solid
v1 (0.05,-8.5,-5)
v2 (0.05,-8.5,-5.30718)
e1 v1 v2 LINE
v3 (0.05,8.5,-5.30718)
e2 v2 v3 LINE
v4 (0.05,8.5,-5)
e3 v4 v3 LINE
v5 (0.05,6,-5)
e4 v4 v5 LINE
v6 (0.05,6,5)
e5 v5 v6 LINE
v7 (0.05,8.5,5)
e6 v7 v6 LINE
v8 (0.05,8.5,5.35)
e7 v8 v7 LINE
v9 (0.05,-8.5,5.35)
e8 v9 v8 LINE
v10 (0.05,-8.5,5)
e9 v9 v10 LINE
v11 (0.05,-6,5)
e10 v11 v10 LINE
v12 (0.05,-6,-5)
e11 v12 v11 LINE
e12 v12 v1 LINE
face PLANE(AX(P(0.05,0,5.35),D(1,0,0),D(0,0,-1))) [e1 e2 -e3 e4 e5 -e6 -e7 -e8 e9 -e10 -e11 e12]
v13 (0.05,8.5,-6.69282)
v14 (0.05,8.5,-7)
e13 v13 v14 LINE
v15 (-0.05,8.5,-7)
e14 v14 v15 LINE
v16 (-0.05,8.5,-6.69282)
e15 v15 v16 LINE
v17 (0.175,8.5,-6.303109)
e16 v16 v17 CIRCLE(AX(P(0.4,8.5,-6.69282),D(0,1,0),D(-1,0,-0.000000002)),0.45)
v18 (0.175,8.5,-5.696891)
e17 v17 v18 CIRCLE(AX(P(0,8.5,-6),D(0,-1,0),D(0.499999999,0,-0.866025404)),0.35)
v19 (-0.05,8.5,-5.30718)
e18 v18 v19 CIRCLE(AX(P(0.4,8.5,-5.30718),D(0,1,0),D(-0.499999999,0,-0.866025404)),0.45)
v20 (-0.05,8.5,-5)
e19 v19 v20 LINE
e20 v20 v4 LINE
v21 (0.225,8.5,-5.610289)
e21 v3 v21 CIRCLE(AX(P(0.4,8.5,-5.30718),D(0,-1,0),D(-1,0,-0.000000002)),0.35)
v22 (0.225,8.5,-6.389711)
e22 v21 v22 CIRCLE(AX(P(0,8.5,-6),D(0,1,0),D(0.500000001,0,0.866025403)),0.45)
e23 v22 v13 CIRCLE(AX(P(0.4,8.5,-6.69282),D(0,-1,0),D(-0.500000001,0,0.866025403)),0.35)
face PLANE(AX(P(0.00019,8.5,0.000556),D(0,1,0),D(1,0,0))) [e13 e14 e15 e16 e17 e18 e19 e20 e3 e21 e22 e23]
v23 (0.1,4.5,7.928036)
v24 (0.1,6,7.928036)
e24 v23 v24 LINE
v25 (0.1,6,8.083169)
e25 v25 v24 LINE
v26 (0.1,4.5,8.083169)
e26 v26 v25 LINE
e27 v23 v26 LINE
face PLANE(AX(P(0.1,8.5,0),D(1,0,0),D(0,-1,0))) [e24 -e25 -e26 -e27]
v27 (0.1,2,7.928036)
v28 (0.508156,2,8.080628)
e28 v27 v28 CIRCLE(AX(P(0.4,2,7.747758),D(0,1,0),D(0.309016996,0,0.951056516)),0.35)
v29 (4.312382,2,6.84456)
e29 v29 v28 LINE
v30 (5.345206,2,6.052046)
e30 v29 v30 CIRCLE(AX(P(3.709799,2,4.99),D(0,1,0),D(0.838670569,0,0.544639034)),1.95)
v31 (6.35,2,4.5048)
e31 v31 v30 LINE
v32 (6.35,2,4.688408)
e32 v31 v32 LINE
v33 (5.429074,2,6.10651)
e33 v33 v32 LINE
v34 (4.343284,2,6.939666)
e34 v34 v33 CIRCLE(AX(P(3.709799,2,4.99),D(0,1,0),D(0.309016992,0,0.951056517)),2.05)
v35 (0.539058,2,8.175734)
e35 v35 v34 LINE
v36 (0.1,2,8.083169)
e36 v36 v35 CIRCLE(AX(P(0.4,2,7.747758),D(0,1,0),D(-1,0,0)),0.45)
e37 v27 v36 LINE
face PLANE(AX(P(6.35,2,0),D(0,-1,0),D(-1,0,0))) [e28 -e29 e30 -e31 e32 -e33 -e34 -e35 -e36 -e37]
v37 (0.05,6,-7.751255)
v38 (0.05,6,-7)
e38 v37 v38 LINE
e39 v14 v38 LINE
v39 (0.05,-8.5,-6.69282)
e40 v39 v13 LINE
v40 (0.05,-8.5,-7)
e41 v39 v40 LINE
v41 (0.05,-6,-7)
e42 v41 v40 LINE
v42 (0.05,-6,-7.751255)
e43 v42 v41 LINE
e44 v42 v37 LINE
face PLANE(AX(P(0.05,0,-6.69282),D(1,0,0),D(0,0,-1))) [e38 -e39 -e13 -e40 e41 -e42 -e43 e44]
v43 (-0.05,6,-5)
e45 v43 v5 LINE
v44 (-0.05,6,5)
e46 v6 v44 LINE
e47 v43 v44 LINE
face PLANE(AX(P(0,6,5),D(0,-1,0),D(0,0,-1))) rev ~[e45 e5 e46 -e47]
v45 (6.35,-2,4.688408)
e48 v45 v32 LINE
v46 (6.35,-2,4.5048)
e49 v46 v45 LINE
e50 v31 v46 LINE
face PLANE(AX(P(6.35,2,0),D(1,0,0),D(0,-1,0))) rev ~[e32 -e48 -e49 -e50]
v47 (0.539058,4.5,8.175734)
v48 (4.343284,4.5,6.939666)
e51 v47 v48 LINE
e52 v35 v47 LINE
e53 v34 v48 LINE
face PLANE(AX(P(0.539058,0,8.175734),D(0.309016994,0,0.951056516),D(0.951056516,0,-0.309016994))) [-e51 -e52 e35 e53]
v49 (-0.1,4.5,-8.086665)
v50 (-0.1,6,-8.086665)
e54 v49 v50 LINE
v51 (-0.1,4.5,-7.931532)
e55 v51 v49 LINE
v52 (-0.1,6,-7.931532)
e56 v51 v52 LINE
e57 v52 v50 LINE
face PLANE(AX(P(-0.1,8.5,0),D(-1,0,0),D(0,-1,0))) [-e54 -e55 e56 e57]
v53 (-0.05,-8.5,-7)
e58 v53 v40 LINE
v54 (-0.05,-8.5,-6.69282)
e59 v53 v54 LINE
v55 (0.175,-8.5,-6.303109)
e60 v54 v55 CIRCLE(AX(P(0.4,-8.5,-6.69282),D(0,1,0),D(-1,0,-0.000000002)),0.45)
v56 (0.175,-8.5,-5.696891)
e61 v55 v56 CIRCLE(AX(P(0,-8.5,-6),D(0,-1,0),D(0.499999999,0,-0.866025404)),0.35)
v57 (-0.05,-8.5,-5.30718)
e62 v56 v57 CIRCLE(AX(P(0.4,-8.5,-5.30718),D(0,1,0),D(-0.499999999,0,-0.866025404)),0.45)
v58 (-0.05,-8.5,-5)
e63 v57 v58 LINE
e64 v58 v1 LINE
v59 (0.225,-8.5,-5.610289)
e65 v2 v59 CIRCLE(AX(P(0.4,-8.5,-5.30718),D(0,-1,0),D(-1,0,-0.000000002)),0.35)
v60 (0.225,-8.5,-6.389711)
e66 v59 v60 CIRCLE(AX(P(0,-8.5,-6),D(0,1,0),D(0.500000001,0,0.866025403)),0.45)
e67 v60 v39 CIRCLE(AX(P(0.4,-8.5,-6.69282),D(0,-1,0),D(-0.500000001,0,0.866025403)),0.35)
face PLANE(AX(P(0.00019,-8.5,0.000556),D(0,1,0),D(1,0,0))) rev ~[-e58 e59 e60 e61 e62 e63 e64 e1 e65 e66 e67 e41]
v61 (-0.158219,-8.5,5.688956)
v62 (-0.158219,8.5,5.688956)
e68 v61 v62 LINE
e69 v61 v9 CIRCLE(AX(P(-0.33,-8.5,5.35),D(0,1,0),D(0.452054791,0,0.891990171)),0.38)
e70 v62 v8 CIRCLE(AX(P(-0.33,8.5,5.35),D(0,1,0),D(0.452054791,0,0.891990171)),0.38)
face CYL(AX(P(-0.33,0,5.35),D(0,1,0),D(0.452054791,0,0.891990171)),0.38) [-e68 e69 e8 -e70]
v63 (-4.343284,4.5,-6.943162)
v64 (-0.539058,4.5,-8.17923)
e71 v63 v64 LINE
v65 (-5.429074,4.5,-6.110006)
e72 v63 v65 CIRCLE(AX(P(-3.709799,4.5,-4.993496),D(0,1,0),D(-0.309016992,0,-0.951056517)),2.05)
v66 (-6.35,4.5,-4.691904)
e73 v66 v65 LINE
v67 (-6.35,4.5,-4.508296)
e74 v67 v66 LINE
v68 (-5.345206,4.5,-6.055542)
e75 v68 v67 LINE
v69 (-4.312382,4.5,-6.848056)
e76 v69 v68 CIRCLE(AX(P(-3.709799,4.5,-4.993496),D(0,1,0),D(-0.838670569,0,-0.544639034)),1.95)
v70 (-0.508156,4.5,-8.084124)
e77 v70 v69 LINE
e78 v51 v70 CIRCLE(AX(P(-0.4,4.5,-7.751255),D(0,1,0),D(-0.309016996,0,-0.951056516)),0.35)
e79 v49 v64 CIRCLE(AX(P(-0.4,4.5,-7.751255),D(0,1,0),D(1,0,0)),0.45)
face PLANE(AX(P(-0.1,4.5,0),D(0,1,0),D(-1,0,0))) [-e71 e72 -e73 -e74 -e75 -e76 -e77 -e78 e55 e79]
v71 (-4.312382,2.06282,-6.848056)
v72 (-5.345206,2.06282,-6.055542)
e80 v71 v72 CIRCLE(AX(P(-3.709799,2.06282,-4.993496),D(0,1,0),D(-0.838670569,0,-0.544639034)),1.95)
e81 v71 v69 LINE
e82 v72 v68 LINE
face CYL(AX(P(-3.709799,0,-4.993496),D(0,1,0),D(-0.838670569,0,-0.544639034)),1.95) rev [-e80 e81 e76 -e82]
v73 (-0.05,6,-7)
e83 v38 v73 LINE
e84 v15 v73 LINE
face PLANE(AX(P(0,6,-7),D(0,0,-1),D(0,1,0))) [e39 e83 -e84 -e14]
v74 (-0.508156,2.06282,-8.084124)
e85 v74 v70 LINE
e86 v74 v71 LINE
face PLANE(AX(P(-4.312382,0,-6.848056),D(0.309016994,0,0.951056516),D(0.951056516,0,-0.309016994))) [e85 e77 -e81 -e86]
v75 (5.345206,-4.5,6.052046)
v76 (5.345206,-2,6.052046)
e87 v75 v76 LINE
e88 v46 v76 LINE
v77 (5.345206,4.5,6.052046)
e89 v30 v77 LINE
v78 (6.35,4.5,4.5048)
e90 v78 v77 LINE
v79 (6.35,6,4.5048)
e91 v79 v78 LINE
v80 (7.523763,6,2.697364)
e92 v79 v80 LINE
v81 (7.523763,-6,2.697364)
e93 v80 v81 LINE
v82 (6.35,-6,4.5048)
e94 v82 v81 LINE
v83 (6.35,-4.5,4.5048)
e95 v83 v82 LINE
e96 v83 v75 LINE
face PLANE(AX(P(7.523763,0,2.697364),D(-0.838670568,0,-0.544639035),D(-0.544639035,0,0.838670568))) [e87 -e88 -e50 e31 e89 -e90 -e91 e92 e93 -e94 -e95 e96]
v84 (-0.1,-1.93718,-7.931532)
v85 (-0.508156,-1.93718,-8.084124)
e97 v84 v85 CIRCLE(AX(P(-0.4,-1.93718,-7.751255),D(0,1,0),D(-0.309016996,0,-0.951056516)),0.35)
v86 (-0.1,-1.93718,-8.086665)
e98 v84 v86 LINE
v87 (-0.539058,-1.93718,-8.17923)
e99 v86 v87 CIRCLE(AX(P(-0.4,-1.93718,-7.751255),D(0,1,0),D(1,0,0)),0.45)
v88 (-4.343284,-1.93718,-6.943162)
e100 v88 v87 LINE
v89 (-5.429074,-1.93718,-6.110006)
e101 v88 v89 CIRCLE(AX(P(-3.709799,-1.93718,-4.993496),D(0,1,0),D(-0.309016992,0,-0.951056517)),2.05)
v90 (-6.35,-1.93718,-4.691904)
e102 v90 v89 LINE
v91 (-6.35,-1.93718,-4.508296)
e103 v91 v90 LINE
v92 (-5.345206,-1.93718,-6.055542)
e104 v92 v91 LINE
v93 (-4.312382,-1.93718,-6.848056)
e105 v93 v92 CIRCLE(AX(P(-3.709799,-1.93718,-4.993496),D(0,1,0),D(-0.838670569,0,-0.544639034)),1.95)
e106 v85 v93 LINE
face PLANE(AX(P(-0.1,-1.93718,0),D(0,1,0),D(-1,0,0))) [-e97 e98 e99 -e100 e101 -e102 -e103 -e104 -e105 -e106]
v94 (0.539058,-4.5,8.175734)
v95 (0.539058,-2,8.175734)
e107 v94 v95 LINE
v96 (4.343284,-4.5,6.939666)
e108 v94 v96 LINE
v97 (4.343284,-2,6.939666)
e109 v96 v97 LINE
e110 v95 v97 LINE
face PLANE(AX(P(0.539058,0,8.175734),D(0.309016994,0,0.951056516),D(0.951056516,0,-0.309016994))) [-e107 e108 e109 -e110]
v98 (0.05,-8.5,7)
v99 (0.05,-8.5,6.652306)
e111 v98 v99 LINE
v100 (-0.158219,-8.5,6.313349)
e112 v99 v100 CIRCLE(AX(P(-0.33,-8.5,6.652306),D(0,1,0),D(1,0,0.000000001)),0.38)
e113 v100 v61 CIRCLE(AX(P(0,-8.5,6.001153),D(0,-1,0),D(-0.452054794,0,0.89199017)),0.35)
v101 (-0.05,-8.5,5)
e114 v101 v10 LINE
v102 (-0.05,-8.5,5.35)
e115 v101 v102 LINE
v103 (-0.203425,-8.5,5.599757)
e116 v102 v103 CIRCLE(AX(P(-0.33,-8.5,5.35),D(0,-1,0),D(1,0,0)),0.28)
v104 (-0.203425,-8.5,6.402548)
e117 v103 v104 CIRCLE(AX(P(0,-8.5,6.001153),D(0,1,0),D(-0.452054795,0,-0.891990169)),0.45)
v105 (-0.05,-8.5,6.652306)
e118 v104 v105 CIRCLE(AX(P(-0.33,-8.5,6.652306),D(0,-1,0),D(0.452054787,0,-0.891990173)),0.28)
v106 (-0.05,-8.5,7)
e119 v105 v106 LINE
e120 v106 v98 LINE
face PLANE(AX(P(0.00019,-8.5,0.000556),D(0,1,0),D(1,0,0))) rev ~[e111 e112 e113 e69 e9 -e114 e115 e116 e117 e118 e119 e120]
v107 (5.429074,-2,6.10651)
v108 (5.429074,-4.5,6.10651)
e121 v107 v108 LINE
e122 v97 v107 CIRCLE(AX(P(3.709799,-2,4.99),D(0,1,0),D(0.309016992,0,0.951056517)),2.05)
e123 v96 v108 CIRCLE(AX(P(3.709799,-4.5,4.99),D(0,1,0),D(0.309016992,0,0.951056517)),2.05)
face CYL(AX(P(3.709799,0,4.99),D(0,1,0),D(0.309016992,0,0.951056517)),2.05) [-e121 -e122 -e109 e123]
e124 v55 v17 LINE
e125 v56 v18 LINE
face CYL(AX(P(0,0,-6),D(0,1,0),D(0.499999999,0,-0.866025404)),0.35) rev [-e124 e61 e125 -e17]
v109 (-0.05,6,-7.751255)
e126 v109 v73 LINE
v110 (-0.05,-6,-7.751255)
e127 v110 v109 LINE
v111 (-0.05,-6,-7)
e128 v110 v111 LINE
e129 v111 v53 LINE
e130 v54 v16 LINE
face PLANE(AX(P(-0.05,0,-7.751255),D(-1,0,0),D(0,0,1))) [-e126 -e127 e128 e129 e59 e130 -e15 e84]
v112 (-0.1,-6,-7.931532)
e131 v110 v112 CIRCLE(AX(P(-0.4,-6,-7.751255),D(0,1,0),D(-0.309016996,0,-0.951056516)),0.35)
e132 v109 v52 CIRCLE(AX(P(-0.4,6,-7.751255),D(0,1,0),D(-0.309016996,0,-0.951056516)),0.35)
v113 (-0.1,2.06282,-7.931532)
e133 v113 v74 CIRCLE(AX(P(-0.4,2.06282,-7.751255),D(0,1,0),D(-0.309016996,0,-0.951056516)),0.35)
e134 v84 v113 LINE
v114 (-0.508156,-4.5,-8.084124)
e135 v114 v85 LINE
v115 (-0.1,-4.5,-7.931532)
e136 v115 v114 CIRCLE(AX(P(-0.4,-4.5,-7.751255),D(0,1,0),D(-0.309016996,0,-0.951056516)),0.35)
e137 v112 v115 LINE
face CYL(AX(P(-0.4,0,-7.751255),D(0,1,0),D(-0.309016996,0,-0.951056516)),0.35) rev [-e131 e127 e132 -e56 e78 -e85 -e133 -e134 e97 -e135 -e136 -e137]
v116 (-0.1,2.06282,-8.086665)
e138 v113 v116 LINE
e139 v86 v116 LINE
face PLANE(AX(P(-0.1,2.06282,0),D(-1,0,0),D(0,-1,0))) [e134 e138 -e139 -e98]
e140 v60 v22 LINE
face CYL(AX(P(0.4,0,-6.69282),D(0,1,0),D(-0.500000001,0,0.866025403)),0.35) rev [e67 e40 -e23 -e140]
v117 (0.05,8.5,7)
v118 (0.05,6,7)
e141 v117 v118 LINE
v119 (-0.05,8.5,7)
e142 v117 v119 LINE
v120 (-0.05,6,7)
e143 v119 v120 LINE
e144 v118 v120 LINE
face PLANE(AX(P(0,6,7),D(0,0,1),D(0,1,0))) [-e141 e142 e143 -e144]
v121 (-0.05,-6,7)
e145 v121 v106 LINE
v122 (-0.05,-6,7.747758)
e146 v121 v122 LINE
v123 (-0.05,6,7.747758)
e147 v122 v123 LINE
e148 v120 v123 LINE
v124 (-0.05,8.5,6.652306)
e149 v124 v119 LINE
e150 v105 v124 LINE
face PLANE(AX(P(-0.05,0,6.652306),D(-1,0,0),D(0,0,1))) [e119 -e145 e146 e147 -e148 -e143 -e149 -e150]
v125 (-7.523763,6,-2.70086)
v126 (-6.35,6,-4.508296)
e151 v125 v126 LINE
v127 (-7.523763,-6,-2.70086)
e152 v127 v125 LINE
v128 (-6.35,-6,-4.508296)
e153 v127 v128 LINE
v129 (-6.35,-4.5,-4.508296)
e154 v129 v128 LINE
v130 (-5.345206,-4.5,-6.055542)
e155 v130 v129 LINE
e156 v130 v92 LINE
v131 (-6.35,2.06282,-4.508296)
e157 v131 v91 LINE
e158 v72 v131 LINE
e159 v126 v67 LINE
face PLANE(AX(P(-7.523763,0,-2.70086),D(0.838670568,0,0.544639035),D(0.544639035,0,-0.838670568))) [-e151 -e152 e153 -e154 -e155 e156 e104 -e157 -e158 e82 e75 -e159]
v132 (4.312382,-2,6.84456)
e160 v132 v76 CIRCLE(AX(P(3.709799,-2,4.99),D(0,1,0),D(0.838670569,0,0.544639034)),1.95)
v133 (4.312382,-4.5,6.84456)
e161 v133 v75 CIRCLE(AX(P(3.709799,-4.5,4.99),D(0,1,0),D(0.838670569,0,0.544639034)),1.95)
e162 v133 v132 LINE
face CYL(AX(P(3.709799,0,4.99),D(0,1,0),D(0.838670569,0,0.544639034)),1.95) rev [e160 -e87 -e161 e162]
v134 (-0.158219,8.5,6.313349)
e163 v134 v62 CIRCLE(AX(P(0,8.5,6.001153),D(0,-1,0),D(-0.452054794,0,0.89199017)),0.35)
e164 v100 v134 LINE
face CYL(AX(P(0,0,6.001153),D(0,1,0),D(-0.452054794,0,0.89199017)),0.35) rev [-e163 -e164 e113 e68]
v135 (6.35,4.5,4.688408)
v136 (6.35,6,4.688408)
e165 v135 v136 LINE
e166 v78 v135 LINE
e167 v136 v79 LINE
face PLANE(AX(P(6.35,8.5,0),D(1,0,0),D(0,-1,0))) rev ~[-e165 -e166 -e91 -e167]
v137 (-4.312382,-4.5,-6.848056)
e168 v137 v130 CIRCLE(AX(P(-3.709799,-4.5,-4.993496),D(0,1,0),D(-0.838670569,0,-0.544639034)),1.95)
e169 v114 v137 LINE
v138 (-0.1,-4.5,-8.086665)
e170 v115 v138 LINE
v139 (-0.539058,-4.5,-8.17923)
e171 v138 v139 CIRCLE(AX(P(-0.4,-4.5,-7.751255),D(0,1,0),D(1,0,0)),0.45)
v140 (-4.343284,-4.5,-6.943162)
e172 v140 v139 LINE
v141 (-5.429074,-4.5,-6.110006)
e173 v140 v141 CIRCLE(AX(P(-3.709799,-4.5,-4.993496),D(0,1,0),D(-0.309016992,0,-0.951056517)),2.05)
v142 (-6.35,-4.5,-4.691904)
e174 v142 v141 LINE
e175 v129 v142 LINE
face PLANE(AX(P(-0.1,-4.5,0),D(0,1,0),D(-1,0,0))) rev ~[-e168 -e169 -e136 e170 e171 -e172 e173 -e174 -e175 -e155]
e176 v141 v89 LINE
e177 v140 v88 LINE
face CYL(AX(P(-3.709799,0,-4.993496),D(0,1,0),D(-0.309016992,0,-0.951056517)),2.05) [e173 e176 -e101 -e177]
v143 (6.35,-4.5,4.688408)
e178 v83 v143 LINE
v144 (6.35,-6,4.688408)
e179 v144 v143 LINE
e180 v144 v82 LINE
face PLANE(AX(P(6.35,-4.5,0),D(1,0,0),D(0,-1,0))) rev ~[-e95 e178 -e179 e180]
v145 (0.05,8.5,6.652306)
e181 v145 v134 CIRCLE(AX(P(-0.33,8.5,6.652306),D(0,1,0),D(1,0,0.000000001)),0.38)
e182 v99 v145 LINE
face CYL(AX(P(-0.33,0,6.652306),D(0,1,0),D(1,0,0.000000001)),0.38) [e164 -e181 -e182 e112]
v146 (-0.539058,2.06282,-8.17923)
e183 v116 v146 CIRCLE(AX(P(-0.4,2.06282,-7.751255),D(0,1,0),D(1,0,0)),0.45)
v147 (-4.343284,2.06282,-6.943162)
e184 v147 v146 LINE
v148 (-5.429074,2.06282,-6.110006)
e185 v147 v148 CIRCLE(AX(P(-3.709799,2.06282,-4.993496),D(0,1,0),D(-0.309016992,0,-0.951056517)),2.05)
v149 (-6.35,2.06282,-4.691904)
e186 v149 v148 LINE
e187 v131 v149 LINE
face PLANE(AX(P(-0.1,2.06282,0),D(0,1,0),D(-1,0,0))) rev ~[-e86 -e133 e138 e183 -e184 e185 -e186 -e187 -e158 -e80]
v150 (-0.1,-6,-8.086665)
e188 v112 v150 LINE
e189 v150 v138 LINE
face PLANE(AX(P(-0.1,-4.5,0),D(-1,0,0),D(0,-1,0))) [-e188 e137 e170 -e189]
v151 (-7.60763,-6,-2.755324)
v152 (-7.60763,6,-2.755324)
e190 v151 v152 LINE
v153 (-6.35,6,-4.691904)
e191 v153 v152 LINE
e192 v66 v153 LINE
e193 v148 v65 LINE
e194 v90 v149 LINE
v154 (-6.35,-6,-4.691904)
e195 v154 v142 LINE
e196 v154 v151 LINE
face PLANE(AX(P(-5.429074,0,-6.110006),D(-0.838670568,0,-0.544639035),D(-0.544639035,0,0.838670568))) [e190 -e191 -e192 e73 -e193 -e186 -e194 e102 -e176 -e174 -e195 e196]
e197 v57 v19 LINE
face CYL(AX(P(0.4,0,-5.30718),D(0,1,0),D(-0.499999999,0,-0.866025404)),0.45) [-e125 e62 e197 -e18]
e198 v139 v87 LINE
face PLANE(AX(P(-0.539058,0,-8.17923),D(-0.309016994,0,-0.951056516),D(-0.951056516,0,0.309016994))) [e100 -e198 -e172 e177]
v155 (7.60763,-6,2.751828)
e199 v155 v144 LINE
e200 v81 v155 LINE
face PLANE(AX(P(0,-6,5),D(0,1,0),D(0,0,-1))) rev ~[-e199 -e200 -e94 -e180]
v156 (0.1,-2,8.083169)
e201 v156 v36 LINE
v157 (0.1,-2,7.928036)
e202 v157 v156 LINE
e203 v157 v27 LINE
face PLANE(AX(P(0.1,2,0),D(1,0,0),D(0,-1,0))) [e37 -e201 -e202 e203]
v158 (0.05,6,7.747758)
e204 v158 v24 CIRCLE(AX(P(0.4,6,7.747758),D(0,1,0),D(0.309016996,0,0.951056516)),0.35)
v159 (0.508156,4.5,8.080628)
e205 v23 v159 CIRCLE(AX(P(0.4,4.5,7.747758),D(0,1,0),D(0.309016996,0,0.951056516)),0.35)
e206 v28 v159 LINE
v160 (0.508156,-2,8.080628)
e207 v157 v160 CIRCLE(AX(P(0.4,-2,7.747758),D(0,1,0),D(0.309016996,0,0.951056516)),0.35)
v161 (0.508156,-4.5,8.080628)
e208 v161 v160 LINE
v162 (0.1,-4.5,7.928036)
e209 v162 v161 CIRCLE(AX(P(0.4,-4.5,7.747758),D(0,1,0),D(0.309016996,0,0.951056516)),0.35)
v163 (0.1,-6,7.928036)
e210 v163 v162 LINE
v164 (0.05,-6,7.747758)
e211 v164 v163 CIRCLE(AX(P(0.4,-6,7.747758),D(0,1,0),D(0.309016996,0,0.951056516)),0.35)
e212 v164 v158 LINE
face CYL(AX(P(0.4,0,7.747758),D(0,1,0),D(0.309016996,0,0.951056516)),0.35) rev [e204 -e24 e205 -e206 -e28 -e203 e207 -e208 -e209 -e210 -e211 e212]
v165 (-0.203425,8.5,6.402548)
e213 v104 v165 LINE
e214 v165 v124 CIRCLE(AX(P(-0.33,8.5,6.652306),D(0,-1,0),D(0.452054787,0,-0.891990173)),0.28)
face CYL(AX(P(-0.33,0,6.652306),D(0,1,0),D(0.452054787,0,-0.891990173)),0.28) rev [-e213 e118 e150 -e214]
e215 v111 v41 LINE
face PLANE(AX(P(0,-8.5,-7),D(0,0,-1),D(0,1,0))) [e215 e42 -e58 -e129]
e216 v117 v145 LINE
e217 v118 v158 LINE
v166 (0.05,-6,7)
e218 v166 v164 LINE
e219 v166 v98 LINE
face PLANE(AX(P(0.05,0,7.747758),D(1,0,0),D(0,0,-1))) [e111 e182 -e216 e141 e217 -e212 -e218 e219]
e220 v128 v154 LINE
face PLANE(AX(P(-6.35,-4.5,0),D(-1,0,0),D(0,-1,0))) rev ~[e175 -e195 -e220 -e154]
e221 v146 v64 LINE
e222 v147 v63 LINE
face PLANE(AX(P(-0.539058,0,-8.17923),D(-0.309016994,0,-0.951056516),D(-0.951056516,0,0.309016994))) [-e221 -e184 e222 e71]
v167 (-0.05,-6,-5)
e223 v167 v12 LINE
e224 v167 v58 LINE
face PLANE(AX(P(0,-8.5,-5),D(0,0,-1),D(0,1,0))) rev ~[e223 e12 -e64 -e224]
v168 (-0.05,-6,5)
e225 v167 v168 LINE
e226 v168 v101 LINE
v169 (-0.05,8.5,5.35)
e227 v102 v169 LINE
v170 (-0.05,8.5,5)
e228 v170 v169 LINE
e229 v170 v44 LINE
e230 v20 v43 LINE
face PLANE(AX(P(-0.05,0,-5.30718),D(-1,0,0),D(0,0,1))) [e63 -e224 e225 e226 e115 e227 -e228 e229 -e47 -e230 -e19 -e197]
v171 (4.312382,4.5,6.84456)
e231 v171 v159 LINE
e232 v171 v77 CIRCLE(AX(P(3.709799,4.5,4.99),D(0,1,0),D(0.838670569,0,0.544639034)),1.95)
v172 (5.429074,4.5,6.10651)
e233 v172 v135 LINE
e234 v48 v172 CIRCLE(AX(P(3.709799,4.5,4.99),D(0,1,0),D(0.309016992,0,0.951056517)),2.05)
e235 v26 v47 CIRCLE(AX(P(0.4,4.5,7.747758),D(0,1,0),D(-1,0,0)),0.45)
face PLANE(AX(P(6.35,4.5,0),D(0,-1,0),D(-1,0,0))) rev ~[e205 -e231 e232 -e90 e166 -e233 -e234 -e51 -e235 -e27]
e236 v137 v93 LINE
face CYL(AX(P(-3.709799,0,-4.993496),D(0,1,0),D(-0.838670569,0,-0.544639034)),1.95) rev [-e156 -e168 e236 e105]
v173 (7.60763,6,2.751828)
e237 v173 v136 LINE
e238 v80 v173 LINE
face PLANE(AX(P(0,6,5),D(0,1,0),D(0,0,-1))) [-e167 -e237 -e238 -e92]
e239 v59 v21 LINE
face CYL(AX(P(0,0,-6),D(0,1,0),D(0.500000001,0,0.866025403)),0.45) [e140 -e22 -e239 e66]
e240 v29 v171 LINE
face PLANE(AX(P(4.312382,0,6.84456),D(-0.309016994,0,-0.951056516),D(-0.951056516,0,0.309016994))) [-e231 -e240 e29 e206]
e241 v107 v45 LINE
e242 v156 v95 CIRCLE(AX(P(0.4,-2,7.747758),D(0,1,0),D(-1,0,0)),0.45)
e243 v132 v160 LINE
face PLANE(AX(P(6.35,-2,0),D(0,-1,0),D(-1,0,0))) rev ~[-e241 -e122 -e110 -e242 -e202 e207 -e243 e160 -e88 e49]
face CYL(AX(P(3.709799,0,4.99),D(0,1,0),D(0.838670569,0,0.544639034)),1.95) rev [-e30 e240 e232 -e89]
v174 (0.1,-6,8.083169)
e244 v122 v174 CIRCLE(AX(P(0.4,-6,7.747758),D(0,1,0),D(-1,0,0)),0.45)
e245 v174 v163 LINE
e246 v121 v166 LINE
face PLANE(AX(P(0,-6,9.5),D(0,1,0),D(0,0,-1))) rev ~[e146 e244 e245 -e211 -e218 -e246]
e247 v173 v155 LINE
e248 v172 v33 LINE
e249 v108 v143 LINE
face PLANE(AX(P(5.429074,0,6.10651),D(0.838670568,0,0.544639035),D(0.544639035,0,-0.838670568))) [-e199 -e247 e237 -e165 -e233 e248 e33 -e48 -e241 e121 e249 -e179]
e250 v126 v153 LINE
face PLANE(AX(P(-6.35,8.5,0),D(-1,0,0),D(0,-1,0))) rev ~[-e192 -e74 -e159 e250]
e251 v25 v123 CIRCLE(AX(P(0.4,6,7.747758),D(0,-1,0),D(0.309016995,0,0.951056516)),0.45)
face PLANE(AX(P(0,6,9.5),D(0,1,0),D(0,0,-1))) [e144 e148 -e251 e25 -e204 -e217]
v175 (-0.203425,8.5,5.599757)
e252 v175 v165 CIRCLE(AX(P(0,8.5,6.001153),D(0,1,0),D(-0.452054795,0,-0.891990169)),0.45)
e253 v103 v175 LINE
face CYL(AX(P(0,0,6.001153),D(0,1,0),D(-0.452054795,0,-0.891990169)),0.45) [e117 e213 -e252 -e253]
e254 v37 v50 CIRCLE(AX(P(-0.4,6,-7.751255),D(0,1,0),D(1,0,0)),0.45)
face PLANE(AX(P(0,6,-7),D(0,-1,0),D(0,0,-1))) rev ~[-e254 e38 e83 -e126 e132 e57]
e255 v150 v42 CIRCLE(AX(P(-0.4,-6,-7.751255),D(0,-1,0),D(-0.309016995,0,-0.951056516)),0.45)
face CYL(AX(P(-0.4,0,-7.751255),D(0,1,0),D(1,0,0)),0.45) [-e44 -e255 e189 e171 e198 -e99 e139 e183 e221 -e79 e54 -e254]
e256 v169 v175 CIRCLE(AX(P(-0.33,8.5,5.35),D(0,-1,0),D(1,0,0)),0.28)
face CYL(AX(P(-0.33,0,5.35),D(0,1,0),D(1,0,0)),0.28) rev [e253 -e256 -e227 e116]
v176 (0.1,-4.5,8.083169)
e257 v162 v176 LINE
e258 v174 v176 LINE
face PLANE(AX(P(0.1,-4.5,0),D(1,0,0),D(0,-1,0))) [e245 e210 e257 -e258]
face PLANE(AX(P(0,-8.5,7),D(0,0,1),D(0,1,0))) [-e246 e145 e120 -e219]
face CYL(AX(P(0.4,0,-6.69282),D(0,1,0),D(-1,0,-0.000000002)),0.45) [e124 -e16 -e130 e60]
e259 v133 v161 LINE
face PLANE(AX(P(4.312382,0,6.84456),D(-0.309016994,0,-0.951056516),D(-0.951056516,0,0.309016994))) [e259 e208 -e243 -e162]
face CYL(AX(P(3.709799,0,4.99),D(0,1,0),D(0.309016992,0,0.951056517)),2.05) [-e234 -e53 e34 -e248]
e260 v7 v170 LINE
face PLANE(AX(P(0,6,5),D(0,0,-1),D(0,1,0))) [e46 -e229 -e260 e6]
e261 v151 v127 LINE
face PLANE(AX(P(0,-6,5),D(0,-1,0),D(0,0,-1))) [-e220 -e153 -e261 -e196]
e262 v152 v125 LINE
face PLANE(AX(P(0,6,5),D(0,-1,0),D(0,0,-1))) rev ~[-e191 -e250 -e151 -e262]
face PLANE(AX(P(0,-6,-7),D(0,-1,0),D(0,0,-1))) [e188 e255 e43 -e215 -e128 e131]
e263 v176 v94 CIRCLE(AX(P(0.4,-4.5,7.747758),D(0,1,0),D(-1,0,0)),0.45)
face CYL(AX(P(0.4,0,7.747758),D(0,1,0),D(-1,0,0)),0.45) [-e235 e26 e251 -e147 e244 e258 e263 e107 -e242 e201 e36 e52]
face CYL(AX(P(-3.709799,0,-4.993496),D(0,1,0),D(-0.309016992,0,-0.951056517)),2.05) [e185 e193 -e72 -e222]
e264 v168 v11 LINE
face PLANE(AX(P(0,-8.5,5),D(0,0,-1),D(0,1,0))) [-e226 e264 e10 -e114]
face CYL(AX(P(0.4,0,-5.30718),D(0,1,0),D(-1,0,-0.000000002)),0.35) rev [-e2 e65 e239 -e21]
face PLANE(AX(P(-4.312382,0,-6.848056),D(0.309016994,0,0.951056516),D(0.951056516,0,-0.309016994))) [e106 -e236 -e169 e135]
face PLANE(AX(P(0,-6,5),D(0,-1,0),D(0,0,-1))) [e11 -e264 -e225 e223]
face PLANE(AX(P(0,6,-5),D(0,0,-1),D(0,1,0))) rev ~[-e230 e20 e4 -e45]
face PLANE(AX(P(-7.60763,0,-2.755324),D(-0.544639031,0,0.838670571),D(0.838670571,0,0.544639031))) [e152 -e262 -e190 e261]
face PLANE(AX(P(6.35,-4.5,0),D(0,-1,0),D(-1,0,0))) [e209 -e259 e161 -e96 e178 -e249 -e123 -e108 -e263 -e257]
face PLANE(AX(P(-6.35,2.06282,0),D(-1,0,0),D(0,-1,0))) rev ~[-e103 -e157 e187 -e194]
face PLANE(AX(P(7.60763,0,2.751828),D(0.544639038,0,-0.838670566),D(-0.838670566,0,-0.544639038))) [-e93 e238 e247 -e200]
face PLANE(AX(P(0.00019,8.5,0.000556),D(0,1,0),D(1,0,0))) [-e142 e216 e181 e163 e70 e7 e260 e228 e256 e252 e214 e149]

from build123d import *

# Parameters (mm, degrees)
EXTRUDE_THIN1_DEPTH      = 8.5
EXTRUDE_THIN1_DEPTH_BACK = 8.5
SKETCH2_W                = 10
SKETCH2_H                = 2.5
SKETCH2_W_2              = 2.5
EXTRUDE1_DEPTH           = 10
EXTRUDE1_DEPTH_BACK      = 10
SKETCH3_W                = 6.25
SKETCH3_H                = 4
EXTRUDE2_DEPTH           = 10
SKETCH4_W                = 6.25
SKETCH4_H                = 4
EXTRUDE3_DEPTH           = 10


with BuildPart() as part:
    # Sketch1 → Extrude-Thin1 (new body, two sides)
    with BuildSketch(Plane(origin=(0, 0, 0), x_dir=(1, 0, 0), z_dir=(0, 1, 0))) as extrude_thin1_sk:
        with BuildLine():
            Line((7.523762622, -2.697363846), (5.345206482, -6.052046118))
            ThreePointArc((5.345206482, -6.052046118), (4.896883661, -6.537039014), (4.312382013, -6.844560207))
            Line((4.312382013, -6.844560207), (0.508155948, -8.080628184))
            ThreePointArc((0.508155948, -8.080628184), (0.194275162, -8.030914352), (0.05, -7.747758404))
            Line((0.05, -7.747758404), (0.05, -6.652305648))
            ThreePointArc((0.05, -6.652305648), (-0.006212483, -6.453404557), (-0.158219178, -6.313349383))
            ThreePointArc((-0.158219178, -6.313349383), (-0.35, -6.001152824), (-0.158219178, -5.688956264))
            ThreePointArc((-0.158219178, -5.688956264), (-0.006212483, -5.548901091), (0.05, -5.35))
            Line((0.05, -5.35), (0.05, 5.307179677))
            ThreePointArc((0.05, 5.307179677), (0.096891109, 5.482179677), (0.225, 5.610288568))
            ThreePointArc((0.225, 5.610288568), (0.45, 6), (0.225, 6.389711432))
            ThreePointArc((0.225, 6.389711432), (0.096891109, 6.517820323), (0.05, 6.692820323))
            Line((0.05, 6.692820323), (0.05, 7.751254615))
            ThreePointArc((0.05, 7.751254615), (-0.135496636, 8.115312262), (-0.539057647, 8.179230047))
            Line((-0.539057647, 8.179230047), (-4.343283713, 6.943162069))
            ThreePointArc((-4.343283713, 6.943162069), (-4.957759804, 6.619870559), (-5.429073538, 6.110006233))
            Line((-5.429073538, 6.110006233), (-7.607629679, 2.755323961))
            Line((-7.607629679, 2.755323961), (-7.523762622, 2.700860058))
            Line((-7.523762622, 2.700860058), (-5.345206482, 6.055542329))
            ThreePointArc((-5.345206482, 6.055542329), (-4.896883661, 6.540535225), (-4.312382013, 6.848056418))
            Line((-4.312382013, 6.848056418), (-0.508155948, 8.084124395))
            ThreePointArc((-0.508155948, 8.084124395), (-0.194275162, 8.034410563), (-0.05, 7.751254615))
            Line((-0.05, 7.751254615), (-0.05, 6.692820323))
            ThreePointArc((-0.05, 6.692820323), (0.010288568, 6.467820323), (0.175, 6.303108891))
            ThreePointArc((0.175, 6.303108891), (0.35, 6), (0.175, 5.696891109))
            ThreePointArc((0.175, 5.696891109), (0.010288568, 5.532179677), (-0.05, 5.307179677))
            Line((-0.05, 5.307179677), (-0.05, -5.35))
            ThreePointArc((-0.05, -5.35), (-0.091419724, -5.496558698), (-0.203424658, -5.599757248))
            ThreePointArc((-0.203424658, -5.599757248), (-0.45, -6.001152824), (-0.203424658, -6.4025484))
            ThreePointArc((-0.203424658, -6.4025484), (-0.091419724, -6.505746949), (-0.05, -6.652305648))
            Line((-0.05, -6.652305648), (-0.05, -7.747758404))
            ThreePointArc((-0.05, -7.747758404), (0.135496636, -8.111816051), (0.539057647, -8.175733836))
            Line((0.539057647, -8.175733836), (4.343283713, -6.939665858))
            ThreePointArc((4.343283713, -6.939665858), (4.957759804, -6.616374348), (5.429073538, -6.106510022))
            Line((5.429073538, -6.106510022), (7.607629679, -2.75182775))
            Line((7.607629679, -2.75182775), (7.523762622, -2.697363846))
        make_face()
    extrude(amount=EXTRUDE_THIN1_DEPTH)
    extrude(extrude_thin1_sk.sketch, amount=-EXTRUDE_THIN1_DEPTH_BACK)

    # Sketch2 → Extrude1 (cut, two sides)
    with BuildSketch(Plane(origin=(0, 0, 0), x_dir=(0, 0, -1), z_dir=(1, 0, 0))) as extrude1_sk:
        with Locations((0, 7.25)):
            Rectangle(SKETCH2_W, SKETCH2_H)
        with Locations((0, -7.25)):
            Rectangle(SKETCH2_W, SKETCH2_H)
        with Locations((8.25, 7.25)):
            Rectangle(SKETCH2_W_2, SKETCH2_H)
        with Locations((-8.25, 7.25)):
            Rectangle(SKETCH2_W_2, SKETCH2_H)
        with Locations((8.25, -7.25)):
            Rectangle(SKETCH2_W_2, SKETCH2_H)
        with Locations((-8.25, -7.25)):
            Rectangle(SKETCH2_W_2, SKETCH2_H)
    extrude(amount=EXTRUDE1_DEPTH, mode=Mode.SUBTRACT)
    extrude(extrude1_sk.sketch, amount=-EXTRUDE1_DEPTH_BACK, mode=Mode.SUBTRACT)

    # Sketch3 → Extrude2 (cut)
    with BuildSketch(Plane(origin=(0, 0, 0), x_dir=(-1, 0, 0), z_dir=(0, 0, 1))):
        with Locations((-3.225, -6.5)):
            Rectangle(SKETCH3_W, SKETCH3_H)
        with Locations((-3.225, 0)):
            Rectangle(SKETCH3_W, SKETCH3_H)
        with Locations((-3.225, 6.5)):
            Rectangle(SKETCH3_W, SKETCH3_H)
    extrude(amount=EXTRUDE2_DEPTH, mode=Mode.SUBTRACT)

    # Sketch4 → Extrude3 (cut)
    with BuildSketch(Plane(origin=(0, 0, 0), x_dir=(-1, 0, 0), z_dir=(0, 0, 1))):
        with Locations((3.225, 6.5)):
            Rectangle(SKETCH4_W, SKETCH4_H)
        with Locations((3.225, -0.062819576)):
            Rectangle(SKETCH4_W, SKETCH4_H)
        with Locations((3.225, -6.5)):
            Rectangle(SKETCH4_W, SKETCH4_H)
    extrude(amount=-EXTRUDE3_DEPTH, mode=Mode.SUBTRACT)


solid = part.part
